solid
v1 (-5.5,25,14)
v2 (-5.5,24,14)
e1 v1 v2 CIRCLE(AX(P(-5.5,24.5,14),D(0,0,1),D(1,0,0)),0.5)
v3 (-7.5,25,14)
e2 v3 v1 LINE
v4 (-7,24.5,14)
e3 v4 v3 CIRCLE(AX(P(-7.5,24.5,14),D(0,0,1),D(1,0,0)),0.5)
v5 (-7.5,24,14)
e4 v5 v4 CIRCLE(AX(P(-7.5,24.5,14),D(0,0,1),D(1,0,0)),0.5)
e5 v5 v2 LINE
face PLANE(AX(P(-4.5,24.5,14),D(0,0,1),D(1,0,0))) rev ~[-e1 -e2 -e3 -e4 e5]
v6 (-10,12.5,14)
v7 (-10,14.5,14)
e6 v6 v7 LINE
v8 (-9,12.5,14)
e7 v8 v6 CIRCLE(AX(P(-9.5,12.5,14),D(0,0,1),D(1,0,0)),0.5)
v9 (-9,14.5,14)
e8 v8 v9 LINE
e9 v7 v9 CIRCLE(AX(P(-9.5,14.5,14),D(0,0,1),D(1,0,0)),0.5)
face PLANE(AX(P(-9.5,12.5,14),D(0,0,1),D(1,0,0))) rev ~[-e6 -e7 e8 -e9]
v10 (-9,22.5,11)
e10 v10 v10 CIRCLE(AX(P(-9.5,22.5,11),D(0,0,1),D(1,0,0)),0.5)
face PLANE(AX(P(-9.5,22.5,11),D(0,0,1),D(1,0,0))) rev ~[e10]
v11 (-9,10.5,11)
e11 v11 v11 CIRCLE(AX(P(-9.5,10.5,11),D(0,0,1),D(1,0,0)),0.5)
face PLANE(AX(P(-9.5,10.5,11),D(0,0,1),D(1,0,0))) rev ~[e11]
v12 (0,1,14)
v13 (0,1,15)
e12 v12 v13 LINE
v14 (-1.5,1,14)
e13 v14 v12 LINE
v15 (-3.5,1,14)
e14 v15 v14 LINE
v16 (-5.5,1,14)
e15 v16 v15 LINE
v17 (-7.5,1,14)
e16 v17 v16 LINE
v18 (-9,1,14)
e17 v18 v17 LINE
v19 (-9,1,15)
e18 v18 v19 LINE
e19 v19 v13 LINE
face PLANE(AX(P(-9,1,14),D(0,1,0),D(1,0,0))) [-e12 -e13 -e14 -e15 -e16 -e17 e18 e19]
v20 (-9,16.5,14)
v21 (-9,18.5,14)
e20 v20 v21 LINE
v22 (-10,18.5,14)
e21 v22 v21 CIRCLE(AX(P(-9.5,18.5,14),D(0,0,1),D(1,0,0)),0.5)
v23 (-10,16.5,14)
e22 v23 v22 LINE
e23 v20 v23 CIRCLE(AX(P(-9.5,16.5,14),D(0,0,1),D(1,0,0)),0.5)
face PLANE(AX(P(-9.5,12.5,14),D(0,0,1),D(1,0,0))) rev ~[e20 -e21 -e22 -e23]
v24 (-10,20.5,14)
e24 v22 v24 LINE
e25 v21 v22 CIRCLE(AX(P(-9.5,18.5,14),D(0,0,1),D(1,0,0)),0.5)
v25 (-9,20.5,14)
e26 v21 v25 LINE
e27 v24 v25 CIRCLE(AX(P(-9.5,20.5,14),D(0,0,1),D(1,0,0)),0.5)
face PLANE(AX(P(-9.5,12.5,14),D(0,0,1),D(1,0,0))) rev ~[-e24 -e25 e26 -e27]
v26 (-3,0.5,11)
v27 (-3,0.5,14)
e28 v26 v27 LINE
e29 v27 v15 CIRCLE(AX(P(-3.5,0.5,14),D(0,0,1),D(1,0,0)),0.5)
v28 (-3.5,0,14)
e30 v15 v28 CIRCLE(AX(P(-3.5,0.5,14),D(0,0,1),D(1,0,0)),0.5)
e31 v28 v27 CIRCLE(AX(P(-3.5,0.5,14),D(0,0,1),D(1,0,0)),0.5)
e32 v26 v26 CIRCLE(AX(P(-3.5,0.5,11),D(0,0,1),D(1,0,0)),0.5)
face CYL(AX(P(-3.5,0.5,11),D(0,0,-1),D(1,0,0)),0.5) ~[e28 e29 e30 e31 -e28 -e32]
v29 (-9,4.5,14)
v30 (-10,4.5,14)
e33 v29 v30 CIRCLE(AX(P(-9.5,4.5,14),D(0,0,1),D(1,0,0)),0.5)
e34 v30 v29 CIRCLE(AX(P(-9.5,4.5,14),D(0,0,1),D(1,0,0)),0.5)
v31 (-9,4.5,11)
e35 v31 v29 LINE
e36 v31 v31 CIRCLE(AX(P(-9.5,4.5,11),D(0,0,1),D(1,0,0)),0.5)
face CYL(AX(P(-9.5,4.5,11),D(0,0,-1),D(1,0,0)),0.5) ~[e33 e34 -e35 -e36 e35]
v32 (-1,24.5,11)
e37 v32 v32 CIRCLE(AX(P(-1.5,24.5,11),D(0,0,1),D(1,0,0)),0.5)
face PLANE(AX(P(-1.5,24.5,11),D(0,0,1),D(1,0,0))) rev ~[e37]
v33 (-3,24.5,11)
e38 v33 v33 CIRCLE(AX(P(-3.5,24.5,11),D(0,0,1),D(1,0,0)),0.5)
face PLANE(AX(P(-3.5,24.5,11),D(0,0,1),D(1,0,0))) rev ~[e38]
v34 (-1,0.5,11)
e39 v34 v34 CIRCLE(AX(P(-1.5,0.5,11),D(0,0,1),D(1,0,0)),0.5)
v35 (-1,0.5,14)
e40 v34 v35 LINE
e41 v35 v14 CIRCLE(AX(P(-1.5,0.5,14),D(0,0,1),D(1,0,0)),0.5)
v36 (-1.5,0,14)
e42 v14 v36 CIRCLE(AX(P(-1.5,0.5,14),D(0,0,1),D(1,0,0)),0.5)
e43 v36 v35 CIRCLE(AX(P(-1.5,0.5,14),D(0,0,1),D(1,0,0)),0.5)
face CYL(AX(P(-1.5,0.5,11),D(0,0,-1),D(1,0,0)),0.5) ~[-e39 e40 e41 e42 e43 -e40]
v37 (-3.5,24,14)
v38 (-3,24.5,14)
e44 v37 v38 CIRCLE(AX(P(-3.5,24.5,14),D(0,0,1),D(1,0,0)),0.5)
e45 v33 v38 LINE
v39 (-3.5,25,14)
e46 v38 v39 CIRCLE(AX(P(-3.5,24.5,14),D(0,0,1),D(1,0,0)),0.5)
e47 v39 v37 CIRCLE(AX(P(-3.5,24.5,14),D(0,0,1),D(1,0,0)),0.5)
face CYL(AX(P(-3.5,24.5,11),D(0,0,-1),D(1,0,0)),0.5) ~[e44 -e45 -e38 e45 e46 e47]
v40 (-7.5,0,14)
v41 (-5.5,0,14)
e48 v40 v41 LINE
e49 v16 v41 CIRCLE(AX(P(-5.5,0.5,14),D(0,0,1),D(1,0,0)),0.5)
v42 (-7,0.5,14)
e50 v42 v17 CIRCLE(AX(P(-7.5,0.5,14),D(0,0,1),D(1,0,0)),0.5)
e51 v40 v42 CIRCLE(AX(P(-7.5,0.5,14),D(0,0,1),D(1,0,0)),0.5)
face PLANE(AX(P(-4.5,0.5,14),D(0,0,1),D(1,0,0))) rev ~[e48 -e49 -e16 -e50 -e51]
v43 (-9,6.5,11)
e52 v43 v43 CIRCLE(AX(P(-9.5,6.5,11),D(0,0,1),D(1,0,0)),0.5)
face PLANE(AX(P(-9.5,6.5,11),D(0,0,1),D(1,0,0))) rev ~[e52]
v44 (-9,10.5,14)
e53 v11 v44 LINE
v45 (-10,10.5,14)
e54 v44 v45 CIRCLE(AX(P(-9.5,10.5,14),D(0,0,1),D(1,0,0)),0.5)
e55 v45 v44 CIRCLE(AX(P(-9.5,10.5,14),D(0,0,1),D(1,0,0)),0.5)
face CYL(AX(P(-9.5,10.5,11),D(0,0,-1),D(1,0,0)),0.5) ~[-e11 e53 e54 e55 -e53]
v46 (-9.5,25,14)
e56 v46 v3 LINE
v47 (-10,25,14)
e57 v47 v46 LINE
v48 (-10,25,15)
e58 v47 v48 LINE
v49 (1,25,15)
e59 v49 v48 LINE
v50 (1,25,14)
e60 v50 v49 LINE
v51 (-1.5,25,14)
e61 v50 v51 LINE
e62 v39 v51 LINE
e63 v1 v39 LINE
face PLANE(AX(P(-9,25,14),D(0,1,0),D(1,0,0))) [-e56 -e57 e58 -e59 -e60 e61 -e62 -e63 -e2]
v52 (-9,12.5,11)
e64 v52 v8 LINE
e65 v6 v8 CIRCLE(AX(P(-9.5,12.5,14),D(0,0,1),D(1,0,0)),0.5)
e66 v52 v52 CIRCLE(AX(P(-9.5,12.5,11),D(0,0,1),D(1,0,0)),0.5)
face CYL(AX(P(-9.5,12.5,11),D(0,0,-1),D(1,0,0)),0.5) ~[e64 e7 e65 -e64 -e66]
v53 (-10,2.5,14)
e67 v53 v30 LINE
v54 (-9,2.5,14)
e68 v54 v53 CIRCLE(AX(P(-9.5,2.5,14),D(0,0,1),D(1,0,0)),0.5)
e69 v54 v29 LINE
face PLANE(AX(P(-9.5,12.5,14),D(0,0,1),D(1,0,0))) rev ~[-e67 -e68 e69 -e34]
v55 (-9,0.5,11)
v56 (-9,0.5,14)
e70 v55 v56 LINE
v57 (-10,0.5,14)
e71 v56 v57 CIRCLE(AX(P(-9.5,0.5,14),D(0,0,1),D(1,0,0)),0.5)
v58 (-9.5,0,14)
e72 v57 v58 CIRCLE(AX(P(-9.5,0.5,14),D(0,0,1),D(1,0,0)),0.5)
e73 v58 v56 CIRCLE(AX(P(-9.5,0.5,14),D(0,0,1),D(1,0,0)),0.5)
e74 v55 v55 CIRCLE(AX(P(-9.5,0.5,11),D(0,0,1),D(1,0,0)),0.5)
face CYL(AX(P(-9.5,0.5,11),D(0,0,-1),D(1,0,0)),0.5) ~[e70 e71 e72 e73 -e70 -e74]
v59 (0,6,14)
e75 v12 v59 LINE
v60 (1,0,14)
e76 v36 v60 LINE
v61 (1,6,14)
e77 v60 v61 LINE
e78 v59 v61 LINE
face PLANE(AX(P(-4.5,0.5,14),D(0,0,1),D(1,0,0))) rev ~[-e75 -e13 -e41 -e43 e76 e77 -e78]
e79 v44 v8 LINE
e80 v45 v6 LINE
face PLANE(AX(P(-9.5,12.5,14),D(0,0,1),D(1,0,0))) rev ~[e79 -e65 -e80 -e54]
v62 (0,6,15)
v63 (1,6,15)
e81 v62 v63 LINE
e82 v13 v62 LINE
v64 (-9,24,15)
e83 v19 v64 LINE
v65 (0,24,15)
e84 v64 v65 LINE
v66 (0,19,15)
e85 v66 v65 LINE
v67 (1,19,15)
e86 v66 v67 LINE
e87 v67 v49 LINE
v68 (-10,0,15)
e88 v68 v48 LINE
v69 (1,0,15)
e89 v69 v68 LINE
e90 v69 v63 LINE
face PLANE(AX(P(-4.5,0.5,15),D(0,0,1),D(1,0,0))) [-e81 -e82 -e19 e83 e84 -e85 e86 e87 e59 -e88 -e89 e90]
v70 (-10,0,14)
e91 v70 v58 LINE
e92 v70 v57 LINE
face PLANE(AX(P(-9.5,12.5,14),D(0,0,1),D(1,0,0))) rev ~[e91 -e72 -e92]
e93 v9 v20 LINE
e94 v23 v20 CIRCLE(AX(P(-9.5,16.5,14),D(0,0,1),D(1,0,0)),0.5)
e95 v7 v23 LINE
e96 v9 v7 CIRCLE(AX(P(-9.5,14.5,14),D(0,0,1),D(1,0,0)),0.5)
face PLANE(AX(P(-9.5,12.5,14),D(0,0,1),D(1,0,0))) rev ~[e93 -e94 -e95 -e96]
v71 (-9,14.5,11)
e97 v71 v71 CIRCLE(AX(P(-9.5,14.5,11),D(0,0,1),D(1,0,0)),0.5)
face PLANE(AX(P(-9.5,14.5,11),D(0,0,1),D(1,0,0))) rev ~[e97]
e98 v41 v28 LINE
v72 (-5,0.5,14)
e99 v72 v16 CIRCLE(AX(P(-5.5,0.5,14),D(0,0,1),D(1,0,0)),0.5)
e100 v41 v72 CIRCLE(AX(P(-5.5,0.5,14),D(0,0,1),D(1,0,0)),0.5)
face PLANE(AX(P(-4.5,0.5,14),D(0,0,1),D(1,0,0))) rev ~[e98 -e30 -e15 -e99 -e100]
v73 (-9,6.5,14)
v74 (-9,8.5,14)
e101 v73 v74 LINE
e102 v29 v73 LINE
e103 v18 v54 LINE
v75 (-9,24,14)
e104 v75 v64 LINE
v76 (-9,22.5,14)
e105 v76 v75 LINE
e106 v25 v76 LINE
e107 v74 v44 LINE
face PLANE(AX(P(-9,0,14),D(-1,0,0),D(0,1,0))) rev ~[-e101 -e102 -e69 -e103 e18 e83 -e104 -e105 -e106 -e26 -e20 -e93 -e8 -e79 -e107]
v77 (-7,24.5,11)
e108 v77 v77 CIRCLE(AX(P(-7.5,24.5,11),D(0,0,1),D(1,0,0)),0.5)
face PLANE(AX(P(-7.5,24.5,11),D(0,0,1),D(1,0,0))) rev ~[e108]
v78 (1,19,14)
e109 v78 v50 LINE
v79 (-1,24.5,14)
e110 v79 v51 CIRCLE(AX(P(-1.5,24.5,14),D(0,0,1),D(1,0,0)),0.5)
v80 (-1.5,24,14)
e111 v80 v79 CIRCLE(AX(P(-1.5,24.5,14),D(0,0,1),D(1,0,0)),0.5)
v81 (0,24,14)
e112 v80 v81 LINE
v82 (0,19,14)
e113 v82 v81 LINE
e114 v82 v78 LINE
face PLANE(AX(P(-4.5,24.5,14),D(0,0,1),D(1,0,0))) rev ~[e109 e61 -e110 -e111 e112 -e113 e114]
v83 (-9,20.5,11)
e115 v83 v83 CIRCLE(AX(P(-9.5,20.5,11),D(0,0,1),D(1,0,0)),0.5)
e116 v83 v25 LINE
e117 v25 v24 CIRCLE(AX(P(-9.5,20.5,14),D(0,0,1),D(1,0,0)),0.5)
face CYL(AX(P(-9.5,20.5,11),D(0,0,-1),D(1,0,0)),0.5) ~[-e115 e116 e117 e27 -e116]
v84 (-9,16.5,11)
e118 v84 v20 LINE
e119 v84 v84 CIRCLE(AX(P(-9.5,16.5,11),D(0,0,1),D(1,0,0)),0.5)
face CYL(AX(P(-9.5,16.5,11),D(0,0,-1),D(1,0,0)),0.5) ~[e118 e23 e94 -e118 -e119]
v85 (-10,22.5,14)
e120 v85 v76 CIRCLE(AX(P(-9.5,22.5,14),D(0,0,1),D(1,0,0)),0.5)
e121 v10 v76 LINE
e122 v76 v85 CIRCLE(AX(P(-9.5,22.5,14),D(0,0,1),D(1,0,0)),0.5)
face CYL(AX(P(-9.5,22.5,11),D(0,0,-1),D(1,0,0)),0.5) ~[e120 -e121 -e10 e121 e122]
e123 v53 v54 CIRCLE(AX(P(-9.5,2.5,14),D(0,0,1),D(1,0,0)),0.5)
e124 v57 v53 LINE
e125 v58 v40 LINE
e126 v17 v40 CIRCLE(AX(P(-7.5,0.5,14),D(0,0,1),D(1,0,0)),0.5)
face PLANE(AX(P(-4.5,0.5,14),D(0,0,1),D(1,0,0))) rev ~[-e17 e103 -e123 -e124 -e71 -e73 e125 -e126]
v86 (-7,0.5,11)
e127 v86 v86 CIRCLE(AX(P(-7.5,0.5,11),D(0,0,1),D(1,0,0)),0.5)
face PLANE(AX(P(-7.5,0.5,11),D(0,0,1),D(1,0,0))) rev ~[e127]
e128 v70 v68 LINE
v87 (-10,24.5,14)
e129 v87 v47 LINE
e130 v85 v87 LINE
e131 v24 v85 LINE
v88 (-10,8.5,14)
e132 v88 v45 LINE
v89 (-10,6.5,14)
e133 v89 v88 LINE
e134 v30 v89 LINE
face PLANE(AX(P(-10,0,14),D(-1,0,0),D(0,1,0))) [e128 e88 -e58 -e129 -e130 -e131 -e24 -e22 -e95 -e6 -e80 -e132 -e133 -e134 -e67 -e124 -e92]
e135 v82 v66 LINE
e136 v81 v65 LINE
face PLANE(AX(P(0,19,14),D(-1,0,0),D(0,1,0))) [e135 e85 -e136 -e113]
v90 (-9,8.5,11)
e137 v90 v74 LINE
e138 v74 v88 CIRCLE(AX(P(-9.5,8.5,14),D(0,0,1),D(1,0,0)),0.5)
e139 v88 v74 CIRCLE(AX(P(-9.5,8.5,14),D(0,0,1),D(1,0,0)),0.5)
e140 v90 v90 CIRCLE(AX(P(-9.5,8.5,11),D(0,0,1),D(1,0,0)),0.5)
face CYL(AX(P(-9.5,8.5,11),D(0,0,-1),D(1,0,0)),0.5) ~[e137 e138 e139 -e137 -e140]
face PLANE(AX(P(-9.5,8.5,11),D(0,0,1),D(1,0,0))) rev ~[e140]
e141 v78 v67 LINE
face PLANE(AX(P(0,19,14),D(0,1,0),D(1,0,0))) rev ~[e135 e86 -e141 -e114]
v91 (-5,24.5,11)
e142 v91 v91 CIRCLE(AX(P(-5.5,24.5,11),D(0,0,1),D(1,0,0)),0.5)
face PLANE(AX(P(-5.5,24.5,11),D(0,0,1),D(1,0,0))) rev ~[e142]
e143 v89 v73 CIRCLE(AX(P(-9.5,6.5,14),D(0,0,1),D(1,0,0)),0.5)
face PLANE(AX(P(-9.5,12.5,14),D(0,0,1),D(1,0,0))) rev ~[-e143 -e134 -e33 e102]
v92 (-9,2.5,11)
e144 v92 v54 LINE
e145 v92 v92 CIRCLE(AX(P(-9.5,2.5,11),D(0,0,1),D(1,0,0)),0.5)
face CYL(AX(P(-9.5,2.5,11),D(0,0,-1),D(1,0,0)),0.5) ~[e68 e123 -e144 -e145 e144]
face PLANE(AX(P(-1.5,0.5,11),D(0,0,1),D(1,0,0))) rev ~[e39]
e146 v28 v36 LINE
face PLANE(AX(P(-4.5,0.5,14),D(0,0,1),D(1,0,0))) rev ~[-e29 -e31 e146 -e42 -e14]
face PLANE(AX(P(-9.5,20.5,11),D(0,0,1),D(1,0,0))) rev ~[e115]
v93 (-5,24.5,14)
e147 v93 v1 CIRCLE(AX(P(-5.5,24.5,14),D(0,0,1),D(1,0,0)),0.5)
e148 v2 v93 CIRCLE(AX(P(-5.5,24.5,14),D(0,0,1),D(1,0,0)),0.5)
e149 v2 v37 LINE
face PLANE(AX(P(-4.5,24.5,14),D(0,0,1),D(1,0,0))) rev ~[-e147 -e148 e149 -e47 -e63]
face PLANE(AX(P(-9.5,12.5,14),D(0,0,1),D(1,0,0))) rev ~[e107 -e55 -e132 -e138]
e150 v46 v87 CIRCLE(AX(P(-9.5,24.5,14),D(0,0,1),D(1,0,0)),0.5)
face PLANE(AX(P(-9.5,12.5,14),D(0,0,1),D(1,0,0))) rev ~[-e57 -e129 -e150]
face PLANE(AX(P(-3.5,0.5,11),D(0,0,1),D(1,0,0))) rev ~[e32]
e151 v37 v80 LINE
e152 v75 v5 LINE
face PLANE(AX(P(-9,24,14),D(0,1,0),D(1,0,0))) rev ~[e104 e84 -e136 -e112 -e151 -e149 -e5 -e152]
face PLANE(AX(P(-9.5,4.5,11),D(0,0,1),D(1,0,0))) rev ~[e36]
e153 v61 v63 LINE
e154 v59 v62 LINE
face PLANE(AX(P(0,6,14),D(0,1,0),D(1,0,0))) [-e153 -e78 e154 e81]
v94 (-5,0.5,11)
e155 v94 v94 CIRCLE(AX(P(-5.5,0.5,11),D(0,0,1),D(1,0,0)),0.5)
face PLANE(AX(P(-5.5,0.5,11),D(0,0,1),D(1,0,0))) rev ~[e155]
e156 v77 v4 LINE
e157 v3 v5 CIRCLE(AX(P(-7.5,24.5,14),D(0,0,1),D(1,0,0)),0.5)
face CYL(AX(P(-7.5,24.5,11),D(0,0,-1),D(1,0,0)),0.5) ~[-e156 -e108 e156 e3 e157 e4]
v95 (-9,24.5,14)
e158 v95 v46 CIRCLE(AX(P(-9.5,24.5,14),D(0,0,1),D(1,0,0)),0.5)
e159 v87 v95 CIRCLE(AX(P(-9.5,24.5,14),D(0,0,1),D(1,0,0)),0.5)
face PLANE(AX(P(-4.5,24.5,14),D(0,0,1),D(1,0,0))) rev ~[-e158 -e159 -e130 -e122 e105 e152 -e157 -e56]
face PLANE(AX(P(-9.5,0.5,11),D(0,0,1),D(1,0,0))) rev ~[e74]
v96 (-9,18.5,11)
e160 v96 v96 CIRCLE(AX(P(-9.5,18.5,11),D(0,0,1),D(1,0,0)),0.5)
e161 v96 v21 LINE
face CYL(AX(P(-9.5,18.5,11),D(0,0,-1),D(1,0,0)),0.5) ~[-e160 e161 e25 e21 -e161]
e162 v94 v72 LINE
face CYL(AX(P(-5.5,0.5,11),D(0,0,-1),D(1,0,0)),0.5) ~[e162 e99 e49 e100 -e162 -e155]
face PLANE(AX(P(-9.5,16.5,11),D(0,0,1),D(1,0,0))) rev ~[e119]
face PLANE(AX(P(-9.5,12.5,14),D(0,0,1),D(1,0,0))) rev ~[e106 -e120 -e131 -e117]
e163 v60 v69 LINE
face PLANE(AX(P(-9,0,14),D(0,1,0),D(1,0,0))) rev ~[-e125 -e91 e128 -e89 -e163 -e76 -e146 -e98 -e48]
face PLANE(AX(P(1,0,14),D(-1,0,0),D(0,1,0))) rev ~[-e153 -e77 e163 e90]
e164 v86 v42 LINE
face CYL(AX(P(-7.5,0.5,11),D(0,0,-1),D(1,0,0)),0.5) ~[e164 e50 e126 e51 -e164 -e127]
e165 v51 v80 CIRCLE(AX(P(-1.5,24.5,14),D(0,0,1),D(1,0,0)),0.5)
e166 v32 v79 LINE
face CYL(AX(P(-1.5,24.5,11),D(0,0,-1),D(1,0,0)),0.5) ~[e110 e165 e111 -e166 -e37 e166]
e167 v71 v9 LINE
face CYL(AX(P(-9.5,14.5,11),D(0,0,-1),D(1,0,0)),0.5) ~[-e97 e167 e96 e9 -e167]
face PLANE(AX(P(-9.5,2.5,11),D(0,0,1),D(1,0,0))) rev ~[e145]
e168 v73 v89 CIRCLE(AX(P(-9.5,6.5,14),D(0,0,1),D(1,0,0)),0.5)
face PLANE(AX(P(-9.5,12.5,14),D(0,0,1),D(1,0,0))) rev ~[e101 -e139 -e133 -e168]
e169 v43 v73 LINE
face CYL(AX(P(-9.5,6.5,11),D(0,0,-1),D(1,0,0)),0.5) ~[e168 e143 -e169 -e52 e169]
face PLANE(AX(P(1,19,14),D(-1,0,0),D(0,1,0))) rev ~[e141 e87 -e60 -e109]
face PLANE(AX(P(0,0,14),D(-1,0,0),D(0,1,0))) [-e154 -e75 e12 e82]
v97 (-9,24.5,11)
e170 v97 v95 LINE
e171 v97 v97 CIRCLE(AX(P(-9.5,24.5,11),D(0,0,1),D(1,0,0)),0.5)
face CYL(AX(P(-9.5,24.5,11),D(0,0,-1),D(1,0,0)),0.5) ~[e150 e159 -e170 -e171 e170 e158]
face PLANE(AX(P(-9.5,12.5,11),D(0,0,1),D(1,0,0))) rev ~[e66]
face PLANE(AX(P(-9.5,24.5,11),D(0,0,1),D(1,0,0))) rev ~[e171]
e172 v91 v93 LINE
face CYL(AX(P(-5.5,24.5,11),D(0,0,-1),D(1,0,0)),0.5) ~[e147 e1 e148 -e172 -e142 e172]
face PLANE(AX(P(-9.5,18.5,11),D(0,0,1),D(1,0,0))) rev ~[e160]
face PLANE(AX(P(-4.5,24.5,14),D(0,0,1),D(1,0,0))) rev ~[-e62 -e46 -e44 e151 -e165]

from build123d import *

# Parameters (mm, degrees)
BOX114_W          = 9
BOX114_H          = 1
BOX114_DEPTH      = 1
CYLINDER025_R     = 0.5
CYLINDER025_DEPTH = 3
CYLINDER023_R     = 0.5
CYLINDER023_DEPTH = 3
CYLINDER024_R     = 0.5
CYLINDER024_DEPTH = 3
CYLINDER026_R     = 0.5
CYLINDER026_DEPTH = 3
CYLINDER021_R     = 0.5
CYLINDER021_DEPTH = 3
CYLINDER020_R     = 0.5
CYLINDER020_DEPTH = 3
CYLINDER019_R     = 0.5
CYLINDER019_DEPTH = 3
CYLINDER022_R     = 0.5
CYLINDER022_DEPTH = 3
BOX113_W          = 9
BOX113_H          = 1
BOX113_DEPTH      = 1
CYLINDER007_R     = 0.5
CYLINDER007_DEPTH = 3
CYLINDER009_R     = 0.5
CYLINDER009_DEPTH = 3
CYLINDER008_R     = 0.5
CYLINDER008_DEPTH = 3
CYLINDER010_R     = 0.5
CYLINDER010_DEPTH = 3
CYLINDER011_R     = 0.5
CYLINDER011_DEPTH = 3
CYLINDER013_R     = 0.5
CYLINDER013_DEPTH = 3
CYLINDER012_R     = 0.5
CYLINDER012_DEPTH = 3
CYLINDER014_R     = 0.5
CYLINDER014_DEPTH = 3
CYLINDER015_R     = 0.5
CYLINDER015_DEPTH = 3
CYLINDER016_R     = 0.5
CYLINDER016_DEPTH = 3
CYLINDER017_R     = 0.5
CYLINDER017_DEPTH = 3
CYLINDER018_R     = 0.5
CYLINDER018_DEPTH = 3
CYLINDER006_R     = 0.5
CYLINDER006_DEPTH = 3
BOX112_W          = 1
BOX112_H          = 25
BOX112_DEPTH      = 1
BOX115_W          = 1
BOX115_H          = 6
BOX115_DEPTH      = 1
BOX116_W          = 1
BOX116_H          = 6
BOX116_DEPTH      = 1


with BuildPart() as box114:
    # Box114 → Box114 (new body)
    with BuildSketch(Plane(origin=(-9, 24, 14), x_dir=(1, 0, 0), z_dir=(0, 0, 1))):
        with Locations((4.5, 0.5)):
            Rectangle(BOX114_W, BOX114_H)
    extrude(amount=BOX114_DEPTH)


with BuildPart() as cylinder025:
    # Cylinder025 → Cylinder025 (new body)
    with BuildSketch(Plane(origin=(-1.5, 0.5, 11), x_dir=(1, 0, 0), z_dir=(0, 0, 1))):
        Circle(CYLINDER025_R)
    extrude(amount=CYLINDER025_DEPTH)


with BuildPart() as cylinder023:
    # Cylinder023 → Cylinder023 (new body)
    with BuildSketch(Plane(origin=(-7.5, 0.5, 11), x_dir=(1, 0, 0), z_dir=(0, 0, 1))):
        Circle(CYLINDER023_R)
    extrude(amount=CYLINDER023_DEPTH)


with BuildPart() as cylinder024:
    # Cylinder024 → Cylinder024 (new body)
    with BuildSketch(Plane(origin=(-5.5, 0.5, 11), x_dir=(1, 0, 0), z_dir=(0, 0, 1))):
        Circle(CYLINDER024_R)
    extrude(amount=CYLINDER024_DEPTH)


with BuildPart() as fusion057:
    # Cylinder026 → Cylinder026 (new body)
    with BuildSketch(Plane(origin=(-3.5, 0.5, 11), x_dir=(1, 0, 0), z_dir=(0, 0, 1))):
        Circle(CYLINDER026_R)
    extrude(amount=CYLINDER026_DEPTH)

    # Fusion056: union Cylinder025, Cylinder023, Cylinder024
    add(cylinder025.part)
    add(cylinder023.part)
    add(cylinder024.part)


with BuildPart() as fusion057_1:
    # Fusion056 placement: moved
    add(fusion057.part.moved(Location((0, 24, 0))))

    # Fusion057: union Box114
    add(box114.part)


with BuildPart() as cylinder021:
    # Cylinder021 → Cylinder021 (new body)
    with BuildSketch(Plane(origin=(-1.5, 0.5, 11), x_dir=(1, 0, 0), z_dir=(0, 0, 1))):
        Circle(CYLINDER021_R)
    extrude(amount=CYLINDER021_DEPTH)


with BuildPart() as cylinder020:
    # Cylinder020 → Cylinder020 (new body)
    with BuildSketch(Plane(origin=(-7.5, 0.5, 11), x_dir=(1, 0, 0), z_dir=(0, 0, 1))):
        Circle(CYLINDER020_R)
    extrude(amount=CYLINDER020_DEPTH)


with BuildPart() as cylinder019:
    # Cylinder019 → Cylinder019 (new body)
    with BuildSketch(Plane(origin=(-5.5, 0.5, 11), x_dir=(1, 0, 0), z_dir=(0, 0, 1))):
        Circle(CYLINDER019_R)
    extrude(amount=CYLINDER019_DEPTH)


with BuildPart() as fusion055:
    # Cylinder022 → Cylinder022 (new body)
    with BuildSketch(Plane(origin=(-3.5, 0.5, 11), x_dir=(1, 0, 0), z_dir=(0, 0, 1))):
        Circle(CYLINDER022_R)
    extrude(amount=CYLINDER022_DEPTH)

    # Fusion055: union Cylinder021, Cylinder020, Cylinder019
    add(cylinder021.part)
    add(cylinder020.part)
    add(cylinder019.part)


with BuildPart() as fusion058:
    # Box113 → Box113 (new body)
    with BuildSketch(Plane(origin=(-9, 0, 14), x_dir=(1, 0, 0), z_dir=(0, 0, 1))):
        with Locations((4.5, 0.5)):
            Rectangle(BOX113_W, BOX113_H)
    extrude(amount=BOX113_DEPTH)

    # Fusion058: union Fusion055
    add(fusion055.part)


with BuildPart() as cylinder007:
    # Cylinder007 → Cylinder007 (new body)
    with BuildSketch(Plane(origin=(-9.5, 2.5, 11), x_dir=(1, 0, 0), z_dir=(0, 0, 1))):
        Circle(CYLINDER007_R)
    extrude(amount=CYLINDER007_DEPTH)


with BuildPart() as cylinder009:
    # Cylinder009 → Cylinder009 (new body)
    with BuildSketch(Plane(origin=(-9.5, 6.5, 11), x_dir=(1, 0, 0), z_dir=(0, 0, 1))):
        Circle(CYLINDER009_R)
    extrude(amount=CYLINDER009_DEPTH)


with BuildPart() as cylinder008:
    # Cylinder008 → Cylinder008 (new body)
    with BuildSketch(Plane(origin=(-9.5, 4.5, 11), x_dir=(1, 0, 0), z_dir=(0, 0, 1))):
        Circle(CYLINDER008_R)
    extrude(amount=CYLINDER008_DEPTH)


with BuildPart() as cylinder010:
    # Cylinder010 → Cylinder010 (new body)
    with BuildSketch(Plane(origin=(-9.5, 8.5, 11), x_dir=(1, 0, 0), z_dir=(0, 0, 1))):
        Circle(CYLINDER010_R)
    extrude(amount=CYLINDER010_DEPTH)


with BuildPart() as cylinder011:
    # Cylinder011 → Cylinder011 (new body)
    with BuildSketch(Plane(origin=(-9.5, 10.5, 11), x_dir=(1, 0, 0), z_dir=(0, 0, 1))):
        Circle(CYLINDER011_R)
    extrude(amount=CYLINDER011_DEPTH)


with BuildPart() as cylinder013:
    # Cylinder013 → Cylinder013 (new body)
    with BuildSketch(Plane(origin=(-9.5, 14.5, 11), x_dir=(1, 0, 0), z_dir=(0, 0, 1))):
        Circle(CYLINDER013_R)
    extrude(amount=CYLINDER013_DEPTH)


with BuildPart() as cylinder012:
    # Cylinder012 → Cylinder012 (new body)
    with BuildSketch(Plane(origin=(-9.5, 12.5, 11), x_dir=(1, 0, 0), z_dir=(0, 0, 1))):
        Circle(CYLINDER012_R)
    extrude(amount=CYLINDER012_DEPTH)


with BuildPart() as cylinder014:
    # Cylinder014 → Cylinder014 (new body)
    with BuildSketch(Plane(origin=(-9.5, 16.5, 11), x_dir=(1, 0, 0), z_dir=(0, 0, 1))):
        Circle(CYLINDER014_R)
    extrude(amount=CYLINDER014_DEPTH)


with BuildPart() as cylinder015:
    # Cylinder015 → Cylinder015 (new body)
    with BuildSketch(Plane(origin=(-9.5, 18.5, 11), x_dir=(1, 0, 0), z_dir=(0, 0, 1))):
        Circle(CYLINDER015_R)
    extrude(amount=CYLINDER015_DEPTH)


with BuildPart() as cylinder016:
    # Cylinder016 → Cylinder016 (new body)
    with BuildSketch(Plane(origin=(-9.5, 20.5, 11), x_dir=(1, 0, 0), z_dir=(0, 0, 1))):
        Circle(CYLINDER016_R)
    extrude(amount=CYLINDER016_DEPTH)


with BuildPart() as cylinder017:
    # Cylinder017 → Cylinder017 (new body)
    with BuildSketch(Plane(origin=(-9.5, 22.5, 11), x_dir=(1, 0, 0), z_dir=(0, 0, 1))):
        Circle(CYLINDER017_R)
    extrude(amount=CYLINDER017_DEPTH)


with BuildPart() as cylinder018:
    # Cylinder018 → Cylinder018 (new body)
    with BuildSketch(Plane(origin=(-9.5, 24.5, 11), x_dir=(1, 0, 0), z_dir=(0, 0, 1))):
        Circle(CYLINDER018_R)
    extrude(amount=CYLINDER018_DEPTH)


with BuildPart() as fusion053:
    # Cylinder006 → Cylinder006 (new body)
    with BuildSketch(Plane(origin=(-9.5, 0.5, 11), x_dir=(1, 0, 0), z_dir=(0, 0, 1))):
        Circle(CYLINDER006_R)
    extrude(amount=CYLINDER006_DEPTH)

    # Fusion053: union Cylinder007, Cylinder009, Cylinder008, Cylinder010, Cylinder011, Cylinder013, Cylinder012, Cylinder014, Cylinder015, Cylinder016, Cylinder017, Cylinder018
    add(cylinder007.part)
    add(cylinder009.part)
    add(cylinder008.part)
    add(cylinder010.part)
    add(cylinder011.part)
    add(cylinder013.part)
    add(cylinder012.part)
    add(cylinder014.part)
    add(cylinder015.part)
    add(cylinder016.part)
    add(cylinder017.part)
    add(cylinder018.part)


with BuildPart() as fusion060:
    # Box112 → Box112 (new body)
    with BuildSketch(Plane(origin=(-10, 0, 14), x_dir=(1, 0, 0), z_dir=(0, 0, 1))):
        with Locations((0.5, 12.5)):
            Rectangle(BOX112_W, BOX112_H)
    extrude(amount=BOX112_DEPTH)

    # Fusion054: union Fusion053
    add(fusion053.part)

    # Fusion060: union Fusion057, Fusion058
    add(fusion057_1.part)
    add(fusion058.part)


with BuildPart() as box115:
    # Box115 → Box115 (new body)
    with BuildSketch(Plane.XY.offset(14)):
        with Locations((0.5, 3)):
            Rectangle(BOX115_W, BOX115_H)
    extrude(amount=BOX115_DEPTH)


with BuildPart() as fusion062:
    # Box116 → Box116 (new body)
    with BuildSketch(Plane(origin=(0, 19, 14), x_dir=(1, 0, 0), z_dir=(0, 0, 1))):
        with Locations((0.5, 3)):
            Rectangle(BOX116_W, BOX116_H)
    extrude(amount=BOX116_DEPTH)

    # Fusion061: union Box115
    add(box115.part)

    # Fusion062: union Fusion060
    add(fusion060.part)


solid = fusion062.part
